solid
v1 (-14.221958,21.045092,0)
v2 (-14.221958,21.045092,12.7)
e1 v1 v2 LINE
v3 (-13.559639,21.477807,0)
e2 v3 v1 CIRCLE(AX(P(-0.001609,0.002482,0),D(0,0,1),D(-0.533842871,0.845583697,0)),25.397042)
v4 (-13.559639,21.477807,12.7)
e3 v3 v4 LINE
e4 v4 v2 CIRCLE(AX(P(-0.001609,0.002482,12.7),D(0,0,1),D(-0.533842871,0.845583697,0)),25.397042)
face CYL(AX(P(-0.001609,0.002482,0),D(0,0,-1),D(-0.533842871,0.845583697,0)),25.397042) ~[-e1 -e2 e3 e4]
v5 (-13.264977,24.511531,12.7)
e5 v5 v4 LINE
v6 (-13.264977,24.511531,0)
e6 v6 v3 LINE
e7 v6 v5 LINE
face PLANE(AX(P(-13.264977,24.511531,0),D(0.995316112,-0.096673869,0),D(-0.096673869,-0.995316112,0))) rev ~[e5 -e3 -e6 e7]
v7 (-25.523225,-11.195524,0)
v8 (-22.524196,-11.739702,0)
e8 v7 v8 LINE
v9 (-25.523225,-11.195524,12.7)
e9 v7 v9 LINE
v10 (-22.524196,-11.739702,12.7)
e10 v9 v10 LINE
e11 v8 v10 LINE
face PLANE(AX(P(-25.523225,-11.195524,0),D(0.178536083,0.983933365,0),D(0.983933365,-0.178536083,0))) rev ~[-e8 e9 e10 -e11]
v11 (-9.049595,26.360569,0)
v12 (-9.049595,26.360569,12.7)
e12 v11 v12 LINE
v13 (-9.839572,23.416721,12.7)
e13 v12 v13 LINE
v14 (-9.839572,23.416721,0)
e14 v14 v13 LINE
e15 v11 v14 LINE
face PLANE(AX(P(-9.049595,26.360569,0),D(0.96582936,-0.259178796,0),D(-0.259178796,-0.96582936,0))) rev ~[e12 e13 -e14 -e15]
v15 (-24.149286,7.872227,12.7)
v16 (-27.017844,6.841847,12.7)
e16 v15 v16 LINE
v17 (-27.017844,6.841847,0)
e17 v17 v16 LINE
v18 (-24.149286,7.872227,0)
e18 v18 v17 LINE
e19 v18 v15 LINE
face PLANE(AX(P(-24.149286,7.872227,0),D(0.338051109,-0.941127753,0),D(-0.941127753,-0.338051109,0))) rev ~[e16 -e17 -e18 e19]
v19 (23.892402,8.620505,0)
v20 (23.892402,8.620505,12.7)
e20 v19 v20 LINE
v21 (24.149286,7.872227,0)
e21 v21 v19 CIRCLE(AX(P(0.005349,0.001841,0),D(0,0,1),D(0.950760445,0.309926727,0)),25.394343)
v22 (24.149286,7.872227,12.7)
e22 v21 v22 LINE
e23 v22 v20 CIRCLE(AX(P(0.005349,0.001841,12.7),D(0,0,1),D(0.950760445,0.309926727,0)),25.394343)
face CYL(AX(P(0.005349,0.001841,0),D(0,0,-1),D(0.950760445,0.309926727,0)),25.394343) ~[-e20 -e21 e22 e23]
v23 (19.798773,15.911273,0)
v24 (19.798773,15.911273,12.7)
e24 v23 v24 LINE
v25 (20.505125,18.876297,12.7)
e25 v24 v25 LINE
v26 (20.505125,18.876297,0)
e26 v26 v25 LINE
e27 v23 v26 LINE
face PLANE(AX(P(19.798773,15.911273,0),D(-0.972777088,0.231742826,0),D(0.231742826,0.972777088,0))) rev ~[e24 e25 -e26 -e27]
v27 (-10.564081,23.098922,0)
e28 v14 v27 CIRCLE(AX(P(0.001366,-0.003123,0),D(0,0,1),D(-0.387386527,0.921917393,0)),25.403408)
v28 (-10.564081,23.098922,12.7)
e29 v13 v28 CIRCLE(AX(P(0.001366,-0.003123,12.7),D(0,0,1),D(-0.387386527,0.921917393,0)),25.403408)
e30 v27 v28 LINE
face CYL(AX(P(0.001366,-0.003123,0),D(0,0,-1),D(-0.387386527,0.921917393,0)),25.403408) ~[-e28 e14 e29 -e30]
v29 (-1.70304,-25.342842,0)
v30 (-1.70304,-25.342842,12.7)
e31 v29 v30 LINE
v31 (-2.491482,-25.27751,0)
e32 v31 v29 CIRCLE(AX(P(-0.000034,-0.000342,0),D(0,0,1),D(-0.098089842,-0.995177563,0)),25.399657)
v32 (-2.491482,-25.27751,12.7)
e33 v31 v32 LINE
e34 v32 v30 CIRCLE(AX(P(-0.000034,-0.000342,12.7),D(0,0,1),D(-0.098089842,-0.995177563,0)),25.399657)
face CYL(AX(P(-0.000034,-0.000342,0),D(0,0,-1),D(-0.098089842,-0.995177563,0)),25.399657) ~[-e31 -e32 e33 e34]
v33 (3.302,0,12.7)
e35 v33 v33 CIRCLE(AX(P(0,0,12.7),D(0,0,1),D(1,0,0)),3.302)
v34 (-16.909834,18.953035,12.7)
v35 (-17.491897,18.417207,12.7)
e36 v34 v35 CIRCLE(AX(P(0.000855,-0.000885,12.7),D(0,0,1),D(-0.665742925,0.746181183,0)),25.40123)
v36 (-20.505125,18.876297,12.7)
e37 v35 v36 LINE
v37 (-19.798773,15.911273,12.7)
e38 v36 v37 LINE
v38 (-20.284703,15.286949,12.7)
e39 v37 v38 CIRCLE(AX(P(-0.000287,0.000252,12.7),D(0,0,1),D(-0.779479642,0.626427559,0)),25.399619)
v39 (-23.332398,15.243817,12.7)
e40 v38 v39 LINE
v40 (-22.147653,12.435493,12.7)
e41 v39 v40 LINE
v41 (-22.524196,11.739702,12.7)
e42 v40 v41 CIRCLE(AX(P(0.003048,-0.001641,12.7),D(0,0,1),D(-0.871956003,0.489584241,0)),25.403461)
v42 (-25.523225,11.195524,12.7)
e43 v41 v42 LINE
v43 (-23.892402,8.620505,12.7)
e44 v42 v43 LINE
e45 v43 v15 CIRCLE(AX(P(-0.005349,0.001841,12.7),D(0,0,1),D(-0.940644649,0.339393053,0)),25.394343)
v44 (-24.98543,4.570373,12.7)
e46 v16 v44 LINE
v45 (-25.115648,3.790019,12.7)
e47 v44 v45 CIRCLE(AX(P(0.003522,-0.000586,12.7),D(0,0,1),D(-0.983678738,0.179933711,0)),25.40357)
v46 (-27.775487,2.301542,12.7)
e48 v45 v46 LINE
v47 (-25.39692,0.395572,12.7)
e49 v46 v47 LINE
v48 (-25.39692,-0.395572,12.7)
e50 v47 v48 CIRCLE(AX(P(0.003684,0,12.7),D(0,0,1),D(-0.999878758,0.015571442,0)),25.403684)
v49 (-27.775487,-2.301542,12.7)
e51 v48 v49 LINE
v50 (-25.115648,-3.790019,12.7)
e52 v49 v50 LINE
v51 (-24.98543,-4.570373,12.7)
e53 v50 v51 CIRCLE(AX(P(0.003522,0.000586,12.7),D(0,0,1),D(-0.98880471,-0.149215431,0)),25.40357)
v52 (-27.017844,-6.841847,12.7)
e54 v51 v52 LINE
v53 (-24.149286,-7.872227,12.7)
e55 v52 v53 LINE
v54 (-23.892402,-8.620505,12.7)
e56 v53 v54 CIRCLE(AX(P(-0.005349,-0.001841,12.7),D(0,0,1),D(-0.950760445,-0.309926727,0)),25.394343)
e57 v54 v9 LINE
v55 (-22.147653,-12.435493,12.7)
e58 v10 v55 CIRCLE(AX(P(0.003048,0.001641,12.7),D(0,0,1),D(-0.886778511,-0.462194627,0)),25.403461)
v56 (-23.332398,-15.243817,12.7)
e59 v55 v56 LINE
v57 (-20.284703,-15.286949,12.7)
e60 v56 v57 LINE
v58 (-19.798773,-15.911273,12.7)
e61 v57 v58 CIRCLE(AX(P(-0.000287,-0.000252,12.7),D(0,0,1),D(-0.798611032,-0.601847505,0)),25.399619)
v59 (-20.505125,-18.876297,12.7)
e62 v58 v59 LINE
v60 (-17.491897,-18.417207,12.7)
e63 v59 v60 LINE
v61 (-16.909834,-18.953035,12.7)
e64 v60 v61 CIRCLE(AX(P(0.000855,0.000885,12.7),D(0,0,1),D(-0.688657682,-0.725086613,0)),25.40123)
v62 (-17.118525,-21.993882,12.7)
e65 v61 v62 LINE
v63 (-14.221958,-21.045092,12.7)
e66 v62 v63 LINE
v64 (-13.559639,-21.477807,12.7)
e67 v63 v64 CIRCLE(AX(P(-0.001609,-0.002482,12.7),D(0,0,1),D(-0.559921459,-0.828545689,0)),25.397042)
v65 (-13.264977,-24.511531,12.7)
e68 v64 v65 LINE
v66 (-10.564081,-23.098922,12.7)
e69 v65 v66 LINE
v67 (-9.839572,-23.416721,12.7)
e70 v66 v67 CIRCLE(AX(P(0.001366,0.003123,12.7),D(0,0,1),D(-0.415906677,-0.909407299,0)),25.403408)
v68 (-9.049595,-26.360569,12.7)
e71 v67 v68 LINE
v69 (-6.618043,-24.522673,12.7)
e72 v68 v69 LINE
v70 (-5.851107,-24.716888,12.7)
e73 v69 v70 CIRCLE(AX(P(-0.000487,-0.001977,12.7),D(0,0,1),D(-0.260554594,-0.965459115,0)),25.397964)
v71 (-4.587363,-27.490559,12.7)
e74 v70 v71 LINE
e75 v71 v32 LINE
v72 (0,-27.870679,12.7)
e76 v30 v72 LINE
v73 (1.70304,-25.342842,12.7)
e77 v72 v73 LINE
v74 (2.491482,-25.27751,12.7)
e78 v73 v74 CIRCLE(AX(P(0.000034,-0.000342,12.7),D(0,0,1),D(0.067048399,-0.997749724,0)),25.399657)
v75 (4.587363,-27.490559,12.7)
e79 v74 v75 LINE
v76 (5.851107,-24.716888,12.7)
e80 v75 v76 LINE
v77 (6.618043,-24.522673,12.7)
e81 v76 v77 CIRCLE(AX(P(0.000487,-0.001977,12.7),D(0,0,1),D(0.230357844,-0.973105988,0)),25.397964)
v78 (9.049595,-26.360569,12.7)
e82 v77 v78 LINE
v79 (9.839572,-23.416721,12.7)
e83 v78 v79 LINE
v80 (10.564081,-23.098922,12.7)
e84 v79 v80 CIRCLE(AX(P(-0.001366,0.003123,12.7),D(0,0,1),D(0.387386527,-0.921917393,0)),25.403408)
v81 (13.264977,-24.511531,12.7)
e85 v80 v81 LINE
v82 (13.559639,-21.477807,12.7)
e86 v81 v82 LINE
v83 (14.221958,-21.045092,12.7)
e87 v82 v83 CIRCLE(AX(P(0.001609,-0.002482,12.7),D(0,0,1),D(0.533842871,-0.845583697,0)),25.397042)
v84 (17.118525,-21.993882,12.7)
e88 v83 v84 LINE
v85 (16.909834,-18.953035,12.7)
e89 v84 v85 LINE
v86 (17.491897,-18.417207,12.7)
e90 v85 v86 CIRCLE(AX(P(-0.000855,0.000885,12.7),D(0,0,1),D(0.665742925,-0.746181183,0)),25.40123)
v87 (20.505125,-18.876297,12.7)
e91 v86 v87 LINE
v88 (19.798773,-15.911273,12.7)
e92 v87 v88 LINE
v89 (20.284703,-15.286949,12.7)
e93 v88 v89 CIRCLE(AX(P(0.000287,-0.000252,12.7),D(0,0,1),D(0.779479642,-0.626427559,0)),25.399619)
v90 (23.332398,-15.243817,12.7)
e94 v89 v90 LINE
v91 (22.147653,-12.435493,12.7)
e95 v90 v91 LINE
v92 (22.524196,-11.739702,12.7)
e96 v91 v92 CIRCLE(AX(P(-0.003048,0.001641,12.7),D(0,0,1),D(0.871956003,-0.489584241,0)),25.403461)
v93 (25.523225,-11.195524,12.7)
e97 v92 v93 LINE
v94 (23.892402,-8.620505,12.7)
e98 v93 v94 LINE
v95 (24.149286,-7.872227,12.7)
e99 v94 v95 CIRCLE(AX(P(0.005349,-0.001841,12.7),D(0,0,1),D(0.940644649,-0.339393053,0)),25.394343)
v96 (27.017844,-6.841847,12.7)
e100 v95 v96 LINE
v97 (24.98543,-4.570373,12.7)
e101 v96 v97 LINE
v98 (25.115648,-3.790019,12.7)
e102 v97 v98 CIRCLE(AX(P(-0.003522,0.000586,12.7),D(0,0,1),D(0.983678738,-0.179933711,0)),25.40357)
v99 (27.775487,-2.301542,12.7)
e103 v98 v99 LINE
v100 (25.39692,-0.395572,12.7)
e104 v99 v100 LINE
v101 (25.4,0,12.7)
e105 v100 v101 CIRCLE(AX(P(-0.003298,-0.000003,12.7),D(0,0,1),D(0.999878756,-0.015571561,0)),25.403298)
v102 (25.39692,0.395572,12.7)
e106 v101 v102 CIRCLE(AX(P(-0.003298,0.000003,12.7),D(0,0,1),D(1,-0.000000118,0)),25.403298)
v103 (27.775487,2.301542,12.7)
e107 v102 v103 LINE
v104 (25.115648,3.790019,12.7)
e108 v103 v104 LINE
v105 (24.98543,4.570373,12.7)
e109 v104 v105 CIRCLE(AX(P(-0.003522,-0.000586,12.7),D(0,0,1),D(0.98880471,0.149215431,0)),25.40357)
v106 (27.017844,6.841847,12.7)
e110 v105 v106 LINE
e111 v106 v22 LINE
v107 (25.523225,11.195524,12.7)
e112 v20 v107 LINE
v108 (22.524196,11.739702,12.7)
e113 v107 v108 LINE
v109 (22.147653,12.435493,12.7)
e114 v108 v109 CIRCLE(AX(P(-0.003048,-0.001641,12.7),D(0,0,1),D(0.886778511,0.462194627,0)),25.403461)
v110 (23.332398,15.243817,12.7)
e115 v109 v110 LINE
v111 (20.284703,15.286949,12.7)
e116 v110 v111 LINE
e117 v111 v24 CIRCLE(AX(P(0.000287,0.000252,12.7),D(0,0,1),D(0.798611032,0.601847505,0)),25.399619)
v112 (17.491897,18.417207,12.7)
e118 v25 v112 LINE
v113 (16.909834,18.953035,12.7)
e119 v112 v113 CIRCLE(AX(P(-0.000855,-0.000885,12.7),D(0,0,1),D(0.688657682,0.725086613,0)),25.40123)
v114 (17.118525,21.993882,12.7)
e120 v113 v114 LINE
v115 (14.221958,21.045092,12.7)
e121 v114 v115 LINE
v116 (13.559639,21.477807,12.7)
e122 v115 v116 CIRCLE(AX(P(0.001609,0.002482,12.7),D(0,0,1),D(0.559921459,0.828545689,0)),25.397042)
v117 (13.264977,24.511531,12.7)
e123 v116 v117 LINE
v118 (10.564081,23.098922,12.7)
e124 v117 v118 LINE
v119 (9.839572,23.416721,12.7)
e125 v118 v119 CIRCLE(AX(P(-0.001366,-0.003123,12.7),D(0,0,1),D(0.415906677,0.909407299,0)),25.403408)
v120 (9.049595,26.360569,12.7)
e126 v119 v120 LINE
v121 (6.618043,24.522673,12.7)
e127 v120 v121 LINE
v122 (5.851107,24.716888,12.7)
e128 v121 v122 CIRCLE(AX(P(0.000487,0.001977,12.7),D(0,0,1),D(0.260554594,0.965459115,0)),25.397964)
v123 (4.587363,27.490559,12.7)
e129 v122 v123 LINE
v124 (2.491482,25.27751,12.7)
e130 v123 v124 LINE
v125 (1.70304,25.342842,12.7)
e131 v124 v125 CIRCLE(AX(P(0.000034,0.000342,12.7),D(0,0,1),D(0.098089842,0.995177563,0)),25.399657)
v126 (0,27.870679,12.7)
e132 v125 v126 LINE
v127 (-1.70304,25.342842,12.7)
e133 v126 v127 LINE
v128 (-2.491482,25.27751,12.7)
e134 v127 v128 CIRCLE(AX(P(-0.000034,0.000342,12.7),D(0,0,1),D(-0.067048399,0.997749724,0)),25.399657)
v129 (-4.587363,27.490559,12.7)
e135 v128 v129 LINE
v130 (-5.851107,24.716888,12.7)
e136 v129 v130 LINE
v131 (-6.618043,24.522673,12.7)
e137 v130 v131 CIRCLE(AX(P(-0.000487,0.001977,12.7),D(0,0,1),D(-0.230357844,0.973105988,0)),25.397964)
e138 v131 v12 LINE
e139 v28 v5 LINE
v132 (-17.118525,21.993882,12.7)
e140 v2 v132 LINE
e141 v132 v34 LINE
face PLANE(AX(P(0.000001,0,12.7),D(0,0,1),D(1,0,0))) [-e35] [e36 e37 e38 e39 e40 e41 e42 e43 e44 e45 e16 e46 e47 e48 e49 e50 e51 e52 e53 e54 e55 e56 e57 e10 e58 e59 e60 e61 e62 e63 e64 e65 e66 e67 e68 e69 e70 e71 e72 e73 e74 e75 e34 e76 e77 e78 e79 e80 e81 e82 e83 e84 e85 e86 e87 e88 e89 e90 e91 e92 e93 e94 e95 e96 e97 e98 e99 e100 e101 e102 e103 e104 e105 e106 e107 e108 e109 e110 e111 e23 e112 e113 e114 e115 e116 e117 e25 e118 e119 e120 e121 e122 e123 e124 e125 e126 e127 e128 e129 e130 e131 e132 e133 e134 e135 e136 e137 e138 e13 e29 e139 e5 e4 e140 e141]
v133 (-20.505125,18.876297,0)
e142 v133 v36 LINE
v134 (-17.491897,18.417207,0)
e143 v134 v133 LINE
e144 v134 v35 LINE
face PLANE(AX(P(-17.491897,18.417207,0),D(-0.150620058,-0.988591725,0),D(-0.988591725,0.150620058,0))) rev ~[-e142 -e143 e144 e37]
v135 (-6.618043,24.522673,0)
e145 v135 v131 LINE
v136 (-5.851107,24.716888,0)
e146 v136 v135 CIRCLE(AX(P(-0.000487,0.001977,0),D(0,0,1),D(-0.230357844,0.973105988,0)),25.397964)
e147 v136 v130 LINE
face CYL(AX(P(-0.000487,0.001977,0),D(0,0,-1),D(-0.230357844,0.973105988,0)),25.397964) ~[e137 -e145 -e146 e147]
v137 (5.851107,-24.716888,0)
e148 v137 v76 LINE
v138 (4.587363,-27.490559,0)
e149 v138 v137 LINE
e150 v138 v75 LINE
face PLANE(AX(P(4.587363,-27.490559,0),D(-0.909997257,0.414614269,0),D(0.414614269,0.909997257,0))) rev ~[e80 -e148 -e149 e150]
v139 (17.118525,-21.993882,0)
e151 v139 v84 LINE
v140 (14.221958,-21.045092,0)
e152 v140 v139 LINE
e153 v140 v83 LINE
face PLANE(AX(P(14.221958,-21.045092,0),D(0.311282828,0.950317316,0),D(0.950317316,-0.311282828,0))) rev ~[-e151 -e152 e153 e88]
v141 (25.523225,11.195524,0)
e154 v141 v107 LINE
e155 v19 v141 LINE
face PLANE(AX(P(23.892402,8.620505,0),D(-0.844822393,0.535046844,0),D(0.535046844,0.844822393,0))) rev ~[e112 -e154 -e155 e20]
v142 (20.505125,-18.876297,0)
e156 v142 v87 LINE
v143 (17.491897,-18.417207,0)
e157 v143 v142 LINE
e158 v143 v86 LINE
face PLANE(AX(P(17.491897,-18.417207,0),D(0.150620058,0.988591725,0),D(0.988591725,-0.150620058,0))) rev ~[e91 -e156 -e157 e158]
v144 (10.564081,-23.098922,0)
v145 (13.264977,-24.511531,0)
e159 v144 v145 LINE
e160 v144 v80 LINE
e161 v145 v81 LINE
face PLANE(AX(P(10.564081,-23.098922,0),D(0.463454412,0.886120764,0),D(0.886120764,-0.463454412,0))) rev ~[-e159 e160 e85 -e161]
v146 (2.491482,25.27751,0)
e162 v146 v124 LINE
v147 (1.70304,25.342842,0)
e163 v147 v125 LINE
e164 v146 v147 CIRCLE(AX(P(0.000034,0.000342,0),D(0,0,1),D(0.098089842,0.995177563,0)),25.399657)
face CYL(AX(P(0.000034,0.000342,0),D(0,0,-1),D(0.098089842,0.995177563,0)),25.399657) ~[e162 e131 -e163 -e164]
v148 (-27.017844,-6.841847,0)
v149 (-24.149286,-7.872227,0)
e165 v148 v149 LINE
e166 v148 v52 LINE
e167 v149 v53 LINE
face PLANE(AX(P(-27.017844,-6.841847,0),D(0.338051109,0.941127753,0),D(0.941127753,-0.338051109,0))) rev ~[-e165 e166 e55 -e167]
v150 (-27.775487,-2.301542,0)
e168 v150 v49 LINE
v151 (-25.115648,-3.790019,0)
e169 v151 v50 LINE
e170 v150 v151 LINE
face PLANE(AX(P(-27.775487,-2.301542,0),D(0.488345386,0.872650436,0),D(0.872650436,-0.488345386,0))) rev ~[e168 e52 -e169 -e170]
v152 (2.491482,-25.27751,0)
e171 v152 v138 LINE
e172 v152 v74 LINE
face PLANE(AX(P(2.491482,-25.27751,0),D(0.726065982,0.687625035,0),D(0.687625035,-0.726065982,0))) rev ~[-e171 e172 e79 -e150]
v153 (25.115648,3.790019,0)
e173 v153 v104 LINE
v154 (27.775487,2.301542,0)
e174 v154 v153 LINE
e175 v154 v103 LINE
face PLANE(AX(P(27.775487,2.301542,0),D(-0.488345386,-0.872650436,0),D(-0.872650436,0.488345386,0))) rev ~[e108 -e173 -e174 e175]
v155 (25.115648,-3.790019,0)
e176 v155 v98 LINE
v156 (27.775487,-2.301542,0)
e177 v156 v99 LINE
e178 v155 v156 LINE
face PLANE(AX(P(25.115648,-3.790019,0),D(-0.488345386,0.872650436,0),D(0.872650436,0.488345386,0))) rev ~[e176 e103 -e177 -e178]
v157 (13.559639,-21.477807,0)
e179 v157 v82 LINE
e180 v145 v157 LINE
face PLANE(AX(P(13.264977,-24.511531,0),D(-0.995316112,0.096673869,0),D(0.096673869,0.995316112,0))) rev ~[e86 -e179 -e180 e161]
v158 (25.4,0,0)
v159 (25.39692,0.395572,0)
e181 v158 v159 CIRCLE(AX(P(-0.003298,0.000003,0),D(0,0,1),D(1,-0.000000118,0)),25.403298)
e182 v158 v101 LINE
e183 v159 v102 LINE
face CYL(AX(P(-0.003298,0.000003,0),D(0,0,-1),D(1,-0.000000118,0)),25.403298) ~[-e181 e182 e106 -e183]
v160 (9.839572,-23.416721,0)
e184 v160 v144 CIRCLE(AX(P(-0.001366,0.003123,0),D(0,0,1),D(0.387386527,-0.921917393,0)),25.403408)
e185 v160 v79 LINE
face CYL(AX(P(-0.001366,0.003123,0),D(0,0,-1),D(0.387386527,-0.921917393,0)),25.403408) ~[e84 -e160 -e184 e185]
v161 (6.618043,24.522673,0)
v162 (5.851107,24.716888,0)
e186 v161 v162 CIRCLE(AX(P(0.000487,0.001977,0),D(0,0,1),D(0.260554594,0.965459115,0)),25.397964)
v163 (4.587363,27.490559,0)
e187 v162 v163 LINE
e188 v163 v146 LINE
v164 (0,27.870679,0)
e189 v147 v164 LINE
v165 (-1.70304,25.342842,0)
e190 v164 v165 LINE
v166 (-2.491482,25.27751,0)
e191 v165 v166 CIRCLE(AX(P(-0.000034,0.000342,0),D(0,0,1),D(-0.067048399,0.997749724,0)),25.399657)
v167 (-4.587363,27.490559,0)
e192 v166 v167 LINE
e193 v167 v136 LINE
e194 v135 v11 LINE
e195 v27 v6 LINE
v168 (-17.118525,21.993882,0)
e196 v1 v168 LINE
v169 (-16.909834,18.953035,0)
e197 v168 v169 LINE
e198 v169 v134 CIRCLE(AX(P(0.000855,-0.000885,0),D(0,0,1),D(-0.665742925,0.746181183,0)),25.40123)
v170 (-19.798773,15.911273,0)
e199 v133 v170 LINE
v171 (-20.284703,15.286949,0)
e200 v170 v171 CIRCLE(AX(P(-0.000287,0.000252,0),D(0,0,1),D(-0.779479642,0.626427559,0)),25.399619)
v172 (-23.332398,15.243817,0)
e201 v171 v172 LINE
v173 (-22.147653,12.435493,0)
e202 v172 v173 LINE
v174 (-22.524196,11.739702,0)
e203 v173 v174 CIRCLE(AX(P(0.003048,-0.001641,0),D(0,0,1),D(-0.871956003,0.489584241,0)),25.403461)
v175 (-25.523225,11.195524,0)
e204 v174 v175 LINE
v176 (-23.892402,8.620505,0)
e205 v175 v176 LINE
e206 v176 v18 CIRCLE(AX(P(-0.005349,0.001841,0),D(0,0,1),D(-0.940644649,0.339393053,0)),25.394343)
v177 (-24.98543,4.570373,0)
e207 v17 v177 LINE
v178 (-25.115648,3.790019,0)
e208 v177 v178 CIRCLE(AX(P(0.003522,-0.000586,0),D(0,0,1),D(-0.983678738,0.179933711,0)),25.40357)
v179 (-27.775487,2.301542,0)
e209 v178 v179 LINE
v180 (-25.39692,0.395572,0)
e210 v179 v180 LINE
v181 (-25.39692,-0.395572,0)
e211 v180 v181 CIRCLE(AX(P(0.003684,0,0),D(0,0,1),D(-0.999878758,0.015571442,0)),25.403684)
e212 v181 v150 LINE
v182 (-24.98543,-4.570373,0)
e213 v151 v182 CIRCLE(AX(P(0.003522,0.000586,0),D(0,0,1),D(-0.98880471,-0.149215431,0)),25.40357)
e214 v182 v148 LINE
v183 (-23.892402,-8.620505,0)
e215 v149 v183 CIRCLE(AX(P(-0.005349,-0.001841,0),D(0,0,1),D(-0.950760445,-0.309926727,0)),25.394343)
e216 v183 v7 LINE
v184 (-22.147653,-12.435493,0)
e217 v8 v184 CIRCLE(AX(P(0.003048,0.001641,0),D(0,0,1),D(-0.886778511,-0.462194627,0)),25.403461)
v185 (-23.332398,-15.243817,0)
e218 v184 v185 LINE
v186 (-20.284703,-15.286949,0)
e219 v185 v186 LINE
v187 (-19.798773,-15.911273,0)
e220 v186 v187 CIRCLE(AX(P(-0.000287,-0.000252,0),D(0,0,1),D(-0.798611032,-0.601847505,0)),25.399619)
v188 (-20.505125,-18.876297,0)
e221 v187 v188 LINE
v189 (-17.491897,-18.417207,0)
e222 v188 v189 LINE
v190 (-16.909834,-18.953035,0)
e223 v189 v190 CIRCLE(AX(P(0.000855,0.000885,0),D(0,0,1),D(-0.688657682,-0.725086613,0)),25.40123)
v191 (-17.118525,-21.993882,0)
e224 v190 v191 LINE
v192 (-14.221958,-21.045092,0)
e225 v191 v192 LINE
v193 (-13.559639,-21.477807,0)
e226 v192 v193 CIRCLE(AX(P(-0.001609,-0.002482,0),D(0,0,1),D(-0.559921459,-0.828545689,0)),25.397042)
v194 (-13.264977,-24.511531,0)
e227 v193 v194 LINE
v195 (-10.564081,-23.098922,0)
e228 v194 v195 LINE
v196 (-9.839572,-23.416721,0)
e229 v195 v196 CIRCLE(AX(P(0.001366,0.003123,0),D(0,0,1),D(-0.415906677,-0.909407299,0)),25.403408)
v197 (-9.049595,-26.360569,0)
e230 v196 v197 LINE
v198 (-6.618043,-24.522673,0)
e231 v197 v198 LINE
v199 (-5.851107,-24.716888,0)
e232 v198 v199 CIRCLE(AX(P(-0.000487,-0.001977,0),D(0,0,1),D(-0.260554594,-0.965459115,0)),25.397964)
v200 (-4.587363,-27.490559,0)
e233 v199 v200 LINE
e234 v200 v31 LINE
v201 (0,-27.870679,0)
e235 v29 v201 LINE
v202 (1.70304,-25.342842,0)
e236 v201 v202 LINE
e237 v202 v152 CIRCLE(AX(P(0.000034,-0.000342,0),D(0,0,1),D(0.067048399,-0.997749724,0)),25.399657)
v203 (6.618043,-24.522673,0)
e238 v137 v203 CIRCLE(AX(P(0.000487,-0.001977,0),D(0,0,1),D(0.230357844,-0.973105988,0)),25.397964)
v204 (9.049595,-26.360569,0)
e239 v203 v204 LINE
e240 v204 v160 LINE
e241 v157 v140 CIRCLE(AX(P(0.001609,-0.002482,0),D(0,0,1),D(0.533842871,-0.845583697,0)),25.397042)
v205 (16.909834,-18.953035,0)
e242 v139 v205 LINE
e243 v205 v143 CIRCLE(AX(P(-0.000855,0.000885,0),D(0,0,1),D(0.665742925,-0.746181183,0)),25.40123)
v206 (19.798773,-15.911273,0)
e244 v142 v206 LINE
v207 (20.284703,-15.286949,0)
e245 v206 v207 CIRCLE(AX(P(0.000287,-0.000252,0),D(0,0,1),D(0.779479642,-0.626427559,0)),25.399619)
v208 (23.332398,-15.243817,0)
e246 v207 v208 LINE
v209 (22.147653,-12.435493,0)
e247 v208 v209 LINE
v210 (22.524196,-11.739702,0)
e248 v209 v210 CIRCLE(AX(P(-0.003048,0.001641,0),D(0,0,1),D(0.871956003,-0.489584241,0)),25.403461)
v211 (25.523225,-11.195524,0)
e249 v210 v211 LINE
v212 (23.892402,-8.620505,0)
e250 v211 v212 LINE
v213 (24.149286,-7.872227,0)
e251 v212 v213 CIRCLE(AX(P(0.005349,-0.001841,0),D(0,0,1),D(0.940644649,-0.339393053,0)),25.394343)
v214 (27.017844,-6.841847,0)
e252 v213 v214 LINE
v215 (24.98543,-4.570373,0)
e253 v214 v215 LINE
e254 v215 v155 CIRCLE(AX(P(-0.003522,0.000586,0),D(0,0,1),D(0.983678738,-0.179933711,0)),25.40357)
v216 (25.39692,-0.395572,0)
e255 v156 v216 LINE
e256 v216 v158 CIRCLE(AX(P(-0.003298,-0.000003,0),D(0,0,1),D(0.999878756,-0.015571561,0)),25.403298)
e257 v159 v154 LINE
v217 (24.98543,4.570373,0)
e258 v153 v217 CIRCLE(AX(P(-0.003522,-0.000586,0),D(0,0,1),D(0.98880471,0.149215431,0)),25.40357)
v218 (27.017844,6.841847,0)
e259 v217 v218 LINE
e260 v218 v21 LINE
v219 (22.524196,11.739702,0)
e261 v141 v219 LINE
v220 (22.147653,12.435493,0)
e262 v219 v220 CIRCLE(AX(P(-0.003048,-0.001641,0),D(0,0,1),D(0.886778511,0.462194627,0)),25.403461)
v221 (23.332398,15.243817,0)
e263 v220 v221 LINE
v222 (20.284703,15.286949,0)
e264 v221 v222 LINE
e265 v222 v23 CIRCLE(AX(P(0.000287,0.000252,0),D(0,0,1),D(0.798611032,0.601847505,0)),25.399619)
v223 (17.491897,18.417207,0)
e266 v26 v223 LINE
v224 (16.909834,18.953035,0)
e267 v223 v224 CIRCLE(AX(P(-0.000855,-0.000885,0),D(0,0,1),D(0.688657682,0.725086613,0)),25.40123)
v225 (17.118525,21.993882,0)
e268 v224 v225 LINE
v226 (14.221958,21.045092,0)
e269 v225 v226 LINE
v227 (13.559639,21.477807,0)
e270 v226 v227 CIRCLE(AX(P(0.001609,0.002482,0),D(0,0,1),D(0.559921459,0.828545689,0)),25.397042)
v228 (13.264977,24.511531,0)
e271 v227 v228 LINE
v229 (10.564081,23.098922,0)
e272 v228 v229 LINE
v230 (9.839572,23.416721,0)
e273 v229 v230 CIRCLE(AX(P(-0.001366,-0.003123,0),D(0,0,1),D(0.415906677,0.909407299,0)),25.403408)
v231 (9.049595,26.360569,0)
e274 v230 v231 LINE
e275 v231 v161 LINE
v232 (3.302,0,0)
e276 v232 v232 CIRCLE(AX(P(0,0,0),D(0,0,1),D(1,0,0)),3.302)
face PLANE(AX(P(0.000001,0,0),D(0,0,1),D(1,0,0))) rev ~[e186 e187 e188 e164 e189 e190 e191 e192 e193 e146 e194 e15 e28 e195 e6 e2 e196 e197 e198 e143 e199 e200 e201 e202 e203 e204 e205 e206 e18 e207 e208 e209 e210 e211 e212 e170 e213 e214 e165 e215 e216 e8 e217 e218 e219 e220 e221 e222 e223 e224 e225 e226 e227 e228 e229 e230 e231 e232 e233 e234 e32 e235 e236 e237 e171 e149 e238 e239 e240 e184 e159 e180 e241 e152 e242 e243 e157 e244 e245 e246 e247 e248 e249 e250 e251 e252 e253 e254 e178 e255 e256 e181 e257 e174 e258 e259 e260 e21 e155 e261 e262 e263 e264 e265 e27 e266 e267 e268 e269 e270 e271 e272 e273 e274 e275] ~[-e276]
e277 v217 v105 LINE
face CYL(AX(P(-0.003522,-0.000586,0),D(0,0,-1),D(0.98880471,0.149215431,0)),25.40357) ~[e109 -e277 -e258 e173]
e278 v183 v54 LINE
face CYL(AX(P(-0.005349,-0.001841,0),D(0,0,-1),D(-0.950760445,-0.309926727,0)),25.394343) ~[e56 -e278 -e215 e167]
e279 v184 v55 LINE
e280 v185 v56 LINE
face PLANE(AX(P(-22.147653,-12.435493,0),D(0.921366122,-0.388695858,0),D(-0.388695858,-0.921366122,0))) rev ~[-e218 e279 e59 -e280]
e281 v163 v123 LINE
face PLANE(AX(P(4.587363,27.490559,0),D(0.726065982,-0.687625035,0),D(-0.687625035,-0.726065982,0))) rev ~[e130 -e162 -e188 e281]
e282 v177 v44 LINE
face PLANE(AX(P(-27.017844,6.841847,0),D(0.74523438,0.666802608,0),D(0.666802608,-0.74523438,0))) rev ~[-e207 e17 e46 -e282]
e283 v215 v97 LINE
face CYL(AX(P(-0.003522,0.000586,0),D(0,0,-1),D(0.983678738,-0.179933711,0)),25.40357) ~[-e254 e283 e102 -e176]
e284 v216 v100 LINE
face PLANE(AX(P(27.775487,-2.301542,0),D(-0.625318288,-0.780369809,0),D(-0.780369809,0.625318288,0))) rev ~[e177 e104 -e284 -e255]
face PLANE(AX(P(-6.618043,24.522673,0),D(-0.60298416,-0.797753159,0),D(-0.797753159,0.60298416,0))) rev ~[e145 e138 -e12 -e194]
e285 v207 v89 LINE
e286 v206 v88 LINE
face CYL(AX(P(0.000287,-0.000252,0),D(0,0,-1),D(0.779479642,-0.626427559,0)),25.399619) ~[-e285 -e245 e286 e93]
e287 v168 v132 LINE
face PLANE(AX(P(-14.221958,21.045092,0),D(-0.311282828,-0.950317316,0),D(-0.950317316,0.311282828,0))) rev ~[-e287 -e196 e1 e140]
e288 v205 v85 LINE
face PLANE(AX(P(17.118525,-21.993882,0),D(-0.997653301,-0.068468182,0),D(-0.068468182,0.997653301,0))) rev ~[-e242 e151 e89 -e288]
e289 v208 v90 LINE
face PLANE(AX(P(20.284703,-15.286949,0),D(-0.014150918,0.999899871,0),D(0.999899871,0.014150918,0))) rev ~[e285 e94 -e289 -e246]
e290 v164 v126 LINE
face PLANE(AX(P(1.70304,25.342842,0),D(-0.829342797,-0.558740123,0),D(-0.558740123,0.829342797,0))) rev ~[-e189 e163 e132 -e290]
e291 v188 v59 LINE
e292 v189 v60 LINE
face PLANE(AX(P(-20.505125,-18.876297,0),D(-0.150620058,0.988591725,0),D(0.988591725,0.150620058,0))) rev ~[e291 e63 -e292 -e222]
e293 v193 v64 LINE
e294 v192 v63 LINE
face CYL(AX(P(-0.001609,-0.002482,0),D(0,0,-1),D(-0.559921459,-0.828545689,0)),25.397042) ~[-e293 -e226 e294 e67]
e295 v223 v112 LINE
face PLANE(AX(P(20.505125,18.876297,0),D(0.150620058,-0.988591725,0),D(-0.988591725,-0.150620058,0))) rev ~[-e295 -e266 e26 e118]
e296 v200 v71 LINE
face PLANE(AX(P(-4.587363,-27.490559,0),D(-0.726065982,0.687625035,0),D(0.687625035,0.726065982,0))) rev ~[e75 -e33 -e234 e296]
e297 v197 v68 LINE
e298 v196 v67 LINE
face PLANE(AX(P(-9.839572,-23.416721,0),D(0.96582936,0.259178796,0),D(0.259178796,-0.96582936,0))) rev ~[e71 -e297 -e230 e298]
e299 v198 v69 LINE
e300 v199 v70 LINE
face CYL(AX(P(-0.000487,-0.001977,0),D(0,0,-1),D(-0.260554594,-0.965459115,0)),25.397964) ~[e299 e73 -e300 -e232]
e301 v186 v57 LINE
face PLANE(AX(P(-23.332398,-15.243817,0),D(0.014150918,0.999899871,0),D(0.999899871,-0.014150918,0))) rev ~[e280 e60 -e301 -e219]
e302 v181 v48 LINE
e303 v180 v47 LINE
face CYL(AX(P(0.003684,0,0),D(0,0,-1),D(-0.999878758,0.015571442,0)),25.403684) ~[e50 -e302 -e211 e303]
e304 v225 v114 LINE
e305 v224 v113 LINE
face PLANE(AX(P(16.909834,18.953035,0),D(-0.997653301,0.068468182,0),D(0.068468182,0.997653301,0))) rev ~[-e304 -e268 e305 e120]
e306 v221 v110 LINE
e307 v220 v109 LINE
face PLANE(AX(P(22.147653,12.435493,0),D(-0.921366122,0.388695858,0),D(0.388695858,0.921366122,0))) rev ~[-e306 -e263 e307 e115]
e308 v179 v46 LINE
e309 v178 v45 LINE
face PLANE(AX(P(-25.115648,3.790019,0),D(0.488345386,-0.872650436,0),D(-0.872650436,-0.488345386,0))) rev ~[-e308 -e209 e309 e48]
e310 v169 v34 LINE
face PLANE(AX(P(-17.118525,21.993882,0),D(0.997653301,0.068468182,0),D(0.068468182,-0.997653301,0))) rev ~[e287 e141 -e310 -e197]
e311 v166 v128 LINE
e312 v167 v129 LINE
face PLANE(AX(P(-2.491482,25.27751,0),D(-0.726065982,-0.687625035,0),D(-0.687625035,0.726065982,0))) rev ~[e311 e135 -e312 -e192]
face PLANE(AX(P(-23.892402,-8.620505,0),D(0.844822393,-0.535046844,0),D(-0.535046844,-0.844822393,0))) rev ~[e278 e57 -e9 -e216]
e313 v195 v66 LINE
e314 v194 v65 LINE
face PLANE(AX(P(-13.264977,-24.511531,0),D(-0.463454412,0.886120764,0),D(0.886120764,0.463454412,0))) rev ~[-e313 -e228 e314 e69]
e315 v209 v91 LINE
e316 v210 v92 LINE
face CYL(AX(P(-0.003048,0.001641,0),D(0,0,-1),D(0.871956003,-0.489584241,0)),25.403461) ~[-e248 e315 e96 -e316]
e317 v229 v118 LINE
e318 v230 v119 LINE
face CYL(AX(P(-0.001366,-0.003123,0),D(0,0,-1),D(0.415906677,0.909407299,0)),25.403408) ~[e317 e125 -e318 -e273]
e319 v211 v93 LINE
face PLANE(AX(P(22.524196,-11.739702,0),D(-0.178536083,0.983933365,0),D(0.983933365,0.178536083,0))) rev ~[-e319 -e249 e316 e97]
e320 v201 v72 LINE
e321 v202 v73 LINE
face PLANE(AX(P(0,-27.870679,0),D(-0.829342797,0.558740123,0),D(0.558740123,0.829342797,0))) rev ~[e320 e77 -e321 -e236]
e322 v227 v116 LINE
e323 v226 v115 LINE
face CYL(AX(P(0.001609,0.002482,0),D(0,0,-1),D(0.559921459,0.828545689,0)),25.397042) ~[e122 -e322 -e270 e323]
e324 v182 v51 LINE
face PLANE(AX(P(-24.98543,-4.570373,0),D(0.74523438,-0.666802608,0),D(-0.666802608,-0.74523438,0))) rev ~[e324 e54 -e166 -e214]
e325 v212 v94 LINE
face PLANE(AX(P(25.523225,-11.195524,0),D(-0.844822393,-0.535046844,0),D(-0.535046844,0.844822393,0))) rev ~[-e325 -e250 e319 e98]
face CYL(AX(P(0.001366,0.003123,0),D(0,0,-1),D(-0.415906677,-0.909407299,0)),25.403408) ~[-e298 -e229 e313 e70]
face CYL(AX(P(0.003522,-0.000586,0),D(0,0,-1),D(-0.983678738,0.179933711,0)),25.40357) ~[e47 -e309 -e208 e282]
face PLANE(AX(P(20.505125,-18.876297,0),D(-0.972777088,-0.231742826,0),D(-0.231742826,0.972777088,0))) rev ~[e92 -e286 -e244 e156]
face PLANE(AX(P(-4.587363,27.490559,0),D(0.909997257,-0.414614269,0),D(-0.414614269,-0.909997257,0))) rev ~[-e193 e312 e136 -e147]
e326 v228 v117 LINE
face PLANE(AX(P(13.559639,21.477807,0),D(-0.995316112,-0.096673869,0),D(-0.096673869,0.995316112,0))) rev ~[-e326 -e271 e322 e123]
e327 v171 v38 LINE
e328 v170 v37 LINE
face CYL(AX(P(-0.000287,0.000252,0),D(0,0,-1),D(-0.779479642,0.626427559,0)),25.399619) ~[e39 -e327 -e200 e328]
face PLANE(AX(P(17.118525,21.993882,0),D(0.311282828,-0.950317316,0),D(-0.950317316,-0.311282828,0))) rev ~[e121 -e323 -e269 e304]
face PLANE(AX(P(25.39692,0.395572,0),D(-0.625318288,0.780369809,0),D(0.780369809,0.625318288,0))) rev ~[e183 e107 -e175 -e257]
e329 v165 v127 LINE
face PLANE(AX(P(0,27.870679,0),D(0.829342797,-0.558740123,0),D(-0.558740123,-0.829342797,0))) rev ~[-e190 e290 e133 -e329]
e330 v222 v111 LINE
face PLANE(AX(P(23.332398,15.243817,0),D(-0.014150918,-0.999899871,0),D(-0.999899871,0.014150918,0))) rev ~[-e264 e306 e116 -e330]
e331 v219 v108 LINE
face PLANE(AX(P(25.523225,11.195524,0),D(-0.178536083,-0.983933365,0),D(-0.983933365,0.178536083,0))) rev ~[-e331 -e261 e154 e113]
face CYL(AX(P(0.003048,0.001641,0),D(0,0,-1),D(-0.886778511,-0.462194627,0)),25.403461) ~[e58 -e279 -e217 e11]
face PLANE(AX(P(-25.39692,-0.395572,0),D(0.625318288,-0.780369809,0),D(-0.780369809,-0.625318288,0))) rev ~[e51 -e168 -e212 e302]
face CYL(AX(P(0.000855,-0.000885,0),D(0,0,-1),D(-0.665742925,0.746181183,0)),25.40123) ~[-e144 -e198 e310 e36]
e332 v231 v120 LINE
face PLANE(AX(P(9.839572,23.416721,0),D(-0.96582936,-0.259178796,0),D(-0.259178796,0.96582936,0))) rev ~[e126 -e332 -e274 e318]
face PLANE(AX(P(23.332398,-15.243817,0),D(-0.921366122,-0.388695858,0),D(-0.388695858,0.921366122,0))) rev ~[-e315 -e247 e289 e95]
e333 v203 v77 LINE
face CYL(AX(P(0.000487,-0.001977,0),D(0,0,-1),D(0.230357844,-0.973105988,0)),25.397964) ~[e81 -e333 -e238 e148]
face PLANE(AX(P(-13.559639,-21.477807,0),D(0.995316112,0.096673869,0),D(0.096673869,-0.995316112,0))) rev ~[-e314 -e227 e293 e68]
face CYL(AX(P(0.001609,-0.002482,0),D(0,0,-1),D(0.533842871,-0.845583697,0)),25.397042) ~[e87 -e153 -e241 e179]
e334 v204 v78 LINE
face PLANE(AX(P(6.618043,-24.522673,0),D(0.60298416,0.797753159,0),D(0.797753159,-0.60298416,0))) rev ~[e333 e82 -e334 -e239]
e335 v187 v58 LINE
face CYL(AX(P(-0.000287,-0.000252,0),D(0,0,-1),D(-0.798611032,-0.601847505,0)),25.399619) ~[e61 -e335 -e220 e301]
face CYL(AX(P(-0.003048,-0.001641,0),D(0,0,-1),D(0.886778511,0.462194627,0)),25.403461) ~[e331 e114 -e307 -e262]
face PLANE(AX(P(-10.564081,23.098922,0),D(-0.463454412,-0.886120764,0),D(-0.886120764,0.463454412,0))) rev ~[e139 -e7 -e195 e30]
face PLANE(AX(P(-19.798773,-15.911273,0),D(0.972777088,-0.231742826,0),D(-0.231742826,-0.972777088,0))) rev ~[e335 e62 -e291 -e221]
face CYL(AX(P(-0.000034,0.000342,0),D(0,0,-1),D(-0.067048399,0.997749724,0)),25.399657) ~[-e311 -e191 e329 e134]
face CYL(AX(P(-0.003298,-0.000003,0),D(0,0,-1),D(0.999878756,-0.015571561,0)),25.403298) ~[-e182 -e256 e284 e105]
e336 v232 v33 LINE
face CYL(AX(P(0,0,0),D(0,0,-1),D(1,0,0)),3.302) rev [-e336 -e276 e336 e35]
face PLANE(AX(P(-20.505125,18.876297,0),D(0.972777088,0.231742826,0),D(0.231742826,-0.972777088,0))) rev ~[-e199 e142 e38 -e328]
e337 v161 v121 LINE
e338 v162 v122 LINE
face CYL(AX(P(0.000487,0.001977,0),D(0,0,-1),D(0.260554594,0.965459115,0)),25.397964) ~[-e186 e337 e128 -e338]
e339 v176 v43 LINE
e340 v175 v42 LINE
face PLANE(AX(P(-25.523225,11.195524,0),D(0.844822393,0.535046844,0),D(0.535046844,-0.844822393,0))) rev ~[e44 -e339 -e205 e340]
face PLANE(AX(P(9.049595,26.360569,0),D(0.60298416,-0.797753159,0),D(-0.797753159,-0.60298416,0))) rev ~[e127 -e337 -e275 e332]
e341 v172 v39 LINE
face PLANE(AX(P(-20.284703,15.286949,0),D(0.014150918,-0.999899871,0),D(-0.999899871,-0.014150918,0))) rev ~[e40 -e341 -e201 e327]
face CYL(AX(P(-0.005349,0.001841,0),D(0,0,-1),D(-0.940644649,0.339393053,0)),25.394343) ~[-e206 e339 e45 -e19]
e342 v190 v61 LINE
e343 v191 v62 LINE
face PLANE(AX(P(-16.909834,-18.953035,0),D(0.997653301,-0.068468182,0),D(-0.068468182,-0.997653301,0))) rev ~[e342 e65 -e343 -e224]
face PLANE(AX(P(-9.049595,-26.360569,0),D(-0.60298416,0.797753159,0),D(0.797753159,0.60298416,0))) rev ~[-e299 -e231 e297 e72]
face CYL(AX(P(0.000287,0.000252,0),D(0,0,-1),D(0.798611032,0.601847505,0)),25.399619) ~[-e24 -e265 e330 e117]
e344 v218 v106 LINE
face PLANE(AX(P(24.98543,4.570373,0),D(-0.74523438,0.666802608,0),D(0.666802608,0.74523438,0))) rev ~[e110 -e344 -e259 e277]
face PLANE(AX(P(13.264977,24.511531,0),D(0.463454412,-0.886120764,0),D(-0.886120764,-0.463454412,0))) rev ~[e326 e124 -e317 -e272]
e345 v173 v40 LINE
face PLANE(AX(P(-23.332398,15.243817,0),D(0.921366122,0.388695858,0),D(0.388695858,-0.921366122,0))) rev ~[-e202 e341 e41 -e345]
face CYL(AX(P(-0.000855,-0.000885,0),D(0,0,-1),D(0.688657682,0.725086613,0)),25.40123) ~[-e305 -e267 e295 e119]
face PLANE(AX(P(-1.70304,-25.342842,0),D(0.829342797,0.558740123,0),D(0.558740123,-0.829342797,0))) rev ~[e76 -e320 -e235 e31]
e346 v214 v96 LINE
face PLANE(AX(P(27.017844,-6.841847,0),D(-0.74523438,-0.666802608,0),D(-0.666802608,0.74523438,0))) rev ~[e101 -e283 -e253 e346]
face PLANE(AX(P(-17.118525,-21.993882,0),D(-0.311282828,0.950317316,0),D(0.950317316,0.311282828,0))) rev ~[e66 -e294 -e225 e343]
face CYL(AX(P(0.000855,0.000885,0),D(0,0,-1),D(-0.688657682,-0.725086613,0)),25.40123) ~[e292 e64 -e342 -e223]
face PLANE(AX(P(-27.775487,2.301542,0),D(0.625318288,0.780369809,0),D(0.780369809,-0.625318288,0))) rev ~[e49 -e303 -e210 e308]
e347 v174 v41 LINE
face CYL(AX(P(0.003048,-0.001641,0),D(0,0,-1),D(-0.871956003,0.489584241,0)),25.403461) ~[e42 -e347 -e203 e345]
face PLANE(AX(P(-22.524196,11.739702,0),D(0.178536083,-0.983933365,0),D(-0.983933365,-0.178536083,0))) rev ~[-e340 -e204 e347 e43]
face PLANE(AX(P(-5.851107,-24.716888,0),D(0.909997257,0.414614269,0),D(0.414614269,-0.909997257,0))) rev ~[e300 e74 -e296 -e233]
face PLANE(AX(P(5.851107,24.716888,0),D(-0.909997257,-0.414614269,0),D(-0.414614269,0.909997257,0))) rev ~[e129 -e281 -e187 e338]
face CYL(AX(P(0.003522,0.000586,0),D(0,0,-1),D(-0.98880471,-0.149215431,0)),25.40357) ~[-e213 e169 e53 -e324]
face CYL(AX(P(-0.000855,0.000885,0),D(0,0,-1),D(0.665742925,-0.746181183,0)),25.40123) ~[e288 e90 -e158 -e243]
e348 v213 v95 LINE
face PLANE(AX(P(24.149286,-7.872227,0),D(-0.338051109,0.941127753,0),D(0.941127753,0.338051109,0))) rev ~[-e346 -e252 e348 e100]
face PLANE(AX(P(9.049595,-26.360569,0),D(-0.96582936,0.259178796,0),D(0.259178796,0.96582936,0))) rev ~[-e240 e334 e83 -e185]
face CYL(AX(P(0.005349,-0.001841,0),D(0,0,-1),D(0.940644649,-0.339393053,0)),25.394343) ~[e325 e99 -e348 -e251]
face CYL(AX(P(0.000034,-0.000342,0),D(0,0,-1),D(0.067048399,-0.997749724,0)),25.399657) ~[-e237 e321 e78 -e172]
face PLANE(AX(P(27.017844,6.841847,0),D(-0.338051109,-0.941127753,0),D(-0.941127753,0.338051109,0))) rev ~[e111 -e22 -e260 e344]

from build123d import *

# Parameters (mm, degrees)
F0_R     = 3.302
F1_DEPTH = 12.7


with BuildPart() as f1:
    # F0 (on Top) → F1 (new body)
    with BuildSketch(Plane.XY):
        with BuildLine():
            ThreePointArc((25.39692, -0.395572), (25.39923, -0.197792), (25.4, 0))
            ThreePointArc((25.4, 0), (25.39923, 0.197792), (25.39692, 0.395572))
            ThreePointArc((25.39692, 0.395572), (25.313246, 2.097515), (25.115648, 3.790019))
            ThreePointArc((25.115648, 3.790019), (25.053577, 4.180703), (24.98543, 4.570373))
            ThreePointArc((24.98543, 4.570373), (24.622767, 6.235331), (24.149286, 7.872227))
            ThreePointArc((24.149286, 7.872227), (24.023758, 8.247367), (23.892402, 8.620505))
            ThreePointArc((23.892402, 8.620505), (23.260642, 10.203064), (22.524196, 11.739702))
            ThreePointArc((22.524196, 11.739702), (22.338633, 12.089064), (22.147653, 12.435493))
            ThreePointArc((22.147653, 12.435493), (21.264029, 13.892483), (20.284703, 15.286949))
            ThreePointArc((20.284703, 15.286949), (20.044169, 15.601003), (19.798773, 15.911273))
            ThreePointArc((19.798773, 15.911273), (18.687387, 17.202952), (17.491897, 18.417207))
            ThreePointArc((17.491897, 18.417207), (17.202952, 18.687387), (16.909834, 18.953035))
            ThreePointArc((16.909834, 18.953035), (15.601003, 20.044169), (14.221958, 21.045092))
            ThreePointArc((14.221958, 21.045092), (13.892483, 21.264029), (13.559639, 21.477807))
            ThreePointArc((13.559639, 21.477807), (12.089064, 22.338633), (10.564081, 23.098922))
            ThreePointArc((10.564081, 23.098922), (10.203064, 23.260642), (9.839572, 23.416721))
            ThreePointArc((9.839572, 23.416721), (8.247367, 24.023758), (6.618043, 24.522673))
            ThreePointArc((6.618043, 24.522673), (6.235331, 24.622767), (5.851107, 24.716888))
            ThreePointArc((5.851107, 24.716888), (4.180703, 25.053577), (2.491482, 25.27751))
            ThreePointArc((2.491482, 25.27751), (2.097515, 25.313246), (1.70304, 25.342842))
            ThreePointArc((1.70304, 25.342842), (0, 25.4), (-1.70304, 25.342842))
            ThreePointArc((-1.70304, 25.342842), (-2.097515, 25.313246), (-2.491482, 25.27751))
            ThreePointArc((-2.491482, 25.27751), (-4.180703, 25.053577), (-5.851107, 24.716888))
            ThreePointArc((-5.851107, 24.716888), (-6.235331, 24.622767), (-6.618043, 24.522673))
            ThreePointArc((-6.618043, 24.522673), (-8.247367, 24.023758), (-9.839572, 23.416721))
            ThreePointArc((-9.839572, 23.416721), (-10.203064, 23.260642), (-10.564081, 23.098922))
            ThreePointArc((-10.564081, 23.098922), (-12.089064, 22.338633), (-13.559639, 21.477807))
            ThreePointArc((-13.559639, 21.477807), (-13.892483, 21.264029), (-14.221958, 21.045092))
            ThreePointArc((-14.221958, 21.045092), (-15.601003, 20.044169), (-16.909834, 18.953035))
            ThreePointArc((-16.909834, 18.953035), (-17.202952, 18.687387), (-17.491897, 18.417207))
            ThreePointArc((-17.491897, 18.417207), (-18.687387, 17.202952), (-19.798773, 15.911273))
            ThreePointArc((-19.798773, 15.911273), (-20.044169, 15.601003), (-20.284703, 15.286949))
            ThreePointArc((-20.284703, 15.286949), (-21.264029, 13.892483), (-22.147653, 12.435493))
            ThreePointArc((-22.147653, 12.435493), (-22.338633, 12.089064), (-22.524196, 11.739702))
            ThreePointArc((-22.524196, 11.739702), (-23.260642, 10.203064), (-23.892402, 8.620505))
            ThreePointArc((-23.892402, 8.620505), (-24.023758, 8.247367), (-24.149286, 7.872227))
            ThreePointArc((-24.149286, 7.872227), (-24.622767, 6.235331), (-24.98543, 4.570373))
            ThreePointArc((-24.98543, 4.570373), (-25.053577, 4.180703), (-25.115648, 3.790019))
            ThreePointArc((-25.115648, 3.790019), (-25.313246, 2.097515), (-25.39692, 0.395572))
            ThreePointArc((-25.39692, 0.395572), (-25.4, 0), (-25.39692, -0.395572))
            ThreePointArc((-25.39692, -0.395572), (-25.313246, -2.097515), (-25.115648, -3.790019))
            ThreePointArc((-25.115648, -3.790019), (-25.053577, -4.180703), (-24.98543, -4.570373))
            ThreePointArc((-24.98543, -4.570373), (-24.622767, -6.235331), (-24.149286, -7.872227))
            ThreePointArc((-24.149286, -7.872227), (-24.023758, -8.247367), (-23.892402, -8.620505))
            ThreePointArc((-23.892402, -8.620505), (-23.260642, -10.203064), (-22.524196, -11.739702))
            ThreePointArc((-22.524196, -11.739702), (-22.338633, -12.089064), (-22.147653, -12.435493))
            ThreePointArc((-22.147653, -12.435493), (-21.264029, -13.892483), (-20.284703, -15.286949))
            ThreePointArc((-20.284703, -15.286949), (-20.044169, -15.601003), (-19.798773, -15.911273))
            ThreePointArc((-19.798773, -15.911273), (-18.687387, -17.202952), (-17.491897, -18.417207))
            ThreePointArc((-17.491897, -18.417207), (-17.202952, -18.687387), (-16.909834, -18.953035))
            ThreePointArc((-16.909834, -18.953035), (-15.601003, -20.044169), (-14.221958, -21.045092))
            ThreePointArc((-14.221958, -21.045092), (-13.892483, -21.264029), (-13.559639, -21.477807))
            ThreePointArc((-13.559639, -21.477807), (-12.089064, -22.338633), (-10.564081, -23.098922))
            ThreePointArc((-10.564081, -23.098922), (-10.203064, -23.260642), (-9.839572, -23.416721))
            ThreePointArc((-9.839572, -23.416721), (-8.247367, -24.023758), (-6.618043, -24.522673))
            ThreePointArc((-6.618043, -24.522673), (-6.235331, -24.622767), (-5.851107, -24.716888))
            ThreePointArc((-5.851107, -24.716888), (-4.180703, -25.053577), (-2.491482, -25.27751))
            ThreePointArc((-2.491482, -25.27751), (-2.097515, -25.313246), (-1.70304, -25.342842))
            ThreePointArc((-1.70304, -25.342842), (0, -25.4), (1.70304, -25.342842))
            ThreePointArc((1.70304, -25.342842), (2.097515, -25.313246), (2.491482, -25.27751))
            ThreePointArc((2.491482, -25.27751), (4.180703, -25.053577), (5.851107, -24.716888))
            ThreePointArc((5.851107, -24.716888), (6.235331, -24.622767), (6.618043, -24.522673))
            ThreePointArc((6.618043, -24.522673), (8.247367, -24.023758), (9.839572, -23.416721))
            ThreePointArc((9.839572, -23.416721), (10.203064, -23.260642), (10.564081, -23.098922))
            ThreePointArc((10.564081, -23.098922), (12.089064, -22.338633), (13.559639, -21.477807))
            ThreePointArc((13.559639, -21.477807), (13.892483, -21.264029), (14.221958, -21.045092))
            ThreePointArc((14.221958, -21.045092), (15.601003, -20.044169), (16.909834, -18.953035))
            ThreePointArc((16.909834, -18.953035), (17.202952, -18.687387), (17.491897, -18.417207))
            ThreePointArc((17.491897, -18.417207), (18.687387, -17.202952), (19.798773, -15.911273))
            ThreePointArc((19.798773, -15.911273), (20.044169, -15.601003), (20.284703, -15.286949))
            ThreePointArc((20.284703, -15.286949), (21.264029, -13.892483), (22.147653, -12.435493))
            ThreePointArc((22.147653, -12.435493), (22.338633, -12.089064), (22.524196, -11.739702))
            ThreePointArc((22.524196, -11.739702), (23.260642, -10.203064), (23.892402, -8.620505))
            ThreePointArc((23.892402, -8.620505), (24.023758, -8.247367), (24.149286, -7.872227))
            ThreePointArc((24.149286, -7.872227), (24.622767, -6.235331), (24.98543, -4.570373))
            ThreePointArc((24.98543, -4.570373), (25.053577, -4.180703), (25.115648, -3.790019))
            ThreePointArc((25.115648, -3.790019), (25.313246, -2.097515), (25.39692, -0.395572))
        make_face()
        Circle(F0_R, mode=Mode.SUBTRACT)
        with BuildLine():
            Line((-27.775487, -2.301542), (-25.115648, -3.790019))
            ThreePointArc((-25.115648, -3.790019), (-25.313246, -2.097515), (-25.39692, -0.395572))
            Line((-25.39692, -0.395572), (-27.775487, -2.301542))
        make_face()
        with BuildLine():
            Line((25.523225, -11.195524), (23.892402, -8.620505))
            ThreePointArc((23.892402, -8.620505), (23.260642, -10.203064), (22.524196, -11.739702))
            Line((22.524196, -11.739702), (25.523225, -11.195524))
        make_face()
        with BuildLine():
            Line((-9.049595, -26.360569), (-6.618043, -24.522673))
            ThreePointArc((-6.618043, -24.522673), (-8.247367, -24.023758), (-9.839572, -23.416721))
            Line((-9.839572, -23.416721), (-9.049595, -26.360569))
        make_face()
        with BuildLine():
            Line((-27.017844, -6.841847), (-24.149286, -7.872227))
            ThreePointArc((-24.149286, -7.872227), (-24.622767, -6.235331), (-24.98543, -4.570373))
            Line((-24.98543, -4.570373), (-27.017844, -6.841847))
        make_face()
        with BuildLine():
            Line((4.587363, -27.490559), (5.851107, -24.716888))
            ThreePointArc((5.851107, -24.716888), (4.180703, -25.053577), (2.491482, -25.27751))
            Line((2.491482, -25.27751), (4.587363, -27.490559))
        make_face()
        with BuildLine():
            Line((27.017844, -6.841847), (24.98543, -4.570373))
            ThreePointArc((24.98543, -4.570373), (24.622767, -6.235331), (24.149286, -7.872227))
            Line((24.149286, -7.872227), (27.017844, -6.841847))
        make_face()
        with BuildLine():
            Line((-4.587363, -27.490559), (-2.491482, -25.27751))
            ThreePointArc((-2.491482, -25.27751), (-4.180703, -25.053577), (-5.851107, -24.716888))
            Line((-5.851107, -24.716888), (-4.587363, -27.490559))
        make_face()
        with BuildLine():
            Line((-25.523225, -11.195524), (-22.524196, -11.739702))
            ThreePointArc((-22.524196, -11.739702), (-23.260642, -10.203064), (-23.892402, -8.620505))
            Line((-23.892402, -8.620505), (-25.523225, -11.195524))
        make_face()
        with BuildLine():
            Line((27.775487, -2.301542), (25.39692, -0.395572))
            ThreePointArc((25.39692, -0.395572), (25.313246, -2.097515), (25.115648, -3.790019))
            Line((25.115648, -3.790019), (27.775487, -2.301542))
        make_face()
        with BuildLine():
            Line((9.049595, -26.360569), (9.839572, -23.416721))
            ThreePointArc((9.839572, -23.416721), (8.247367, -24.023758), (6.618043, -24.522673))
            Line((6.618043, -24.522673), (9.049595, -26.360569))
        make_face()
        with BuildLine():
            Line((0, -27.870679), (1.70304, -25.342842))
            ThreePointArc((1.70304, -25.342842), (0, -25.4), (-1.70304, -25.342842))
            Line((-1.70304, -25.342842), (0, -27.870679))
        make_face()
        with BuildLine():
            Line((-23.332398, -15.243817), (-20.284703, -15.286949))
            ThreePointArc((-20.284703, -15.286949), (-21.264029, -13.892483), (-22.147653, -12.435493))
            Line((-22.147653, -12.435493), (-23.332398, -15.243817))
        make_face()
        with BuildLine():
            ThreePointArc((-22.147653, 12.435493), (-21.264029, 13.892483), (-20.284703, 15.286949))
            Line((-20.284703, 15.286949), (-23.332398, 15.243817))
            Line((-23.332398, 15.243817), (-22.147653, 12.435493))
        make_face()
        with BuildLine():
            ThreePointArc((-16.909834, 18.953035), (-15.601003, 20.044169), (-14.221958, 21.045092))
            Line((-14.221958, 21.045092), (-17.118525, 21.993882))
            Line((-17.118525, 21.993882), (-16.909834, 18.953035))
        make_face()
        with BuildLine():
            ThreePointArc((-19.798773, 15.911273), (-18.687387, 17.202952), (-17.491897, 18.417207))
            Line((-17.491897, 18.417207), (-20.505125, 18.876297))
            Line((-20.505125, 18.876297), (-19.798773, 15.911273))
        make_face()
        with BuildLine():
            ThreePointArc((-23.892402, 8.620505), (-23.260642, 10.203064), (-22.524196, 11.739702))
            Line((-22.524196, 11.739702), (-25.523225, 11.195524))
            Line((-25.523225, 11.195524), (-23.892402, 8.620505))
        make_face()
        with BuildLine():
            Line((17.118525, -21.993882), (16.909834, -18.953035))
            ThreePointArc((16.909834, -18.953035), (15.601003, -20.044169), (14.221958, -21.045092))
            Line((14.221958, -21.045092), (17.118525, -21.993882))
        make_face()
        with BuildLine():
            ThreePointArc((25.115648, 3.790019), (25.313246, 2.097515), (25.39692, 0.395572))
            Line((25.39692, 0.395572), (27.775487, 2.301542))
            Line((27.775487, 2.301542), (25.115648, 3.790019))
        make_face()
        with BuildLine():
            ThreePointArc((24.149286, 7.872227), (24.622767, 6.235331), (24.98543, 4.570373))
            Line((24.98543, 4.570373), (27.017844, 6.841847))
            Line((27.017844, 6.841847), (24.149286, 7.872227))
        make_face()
        with BuildLine():
            ThreePointArc((22.524196, 11.739702), (23.260642, 10.203064), (23.892402, 8.620505))
            Line((23.892402, 8.620505), (25.523225, 11.195524))
            Line((25.523225, 11.195524), (22.524196, 11.739702))
        make_face()
        with BuildLine():
            ThreePointArc((20.284703, 15.286949), (21.264029, 13.892483), (22.147653, 12.435493))
            Line((22.147653, 12.435493), (23.332398, 15.243817))
            Line((23.332398, 15.243817), (20.284703, 15.286949))
        make_face()
        with BuildLine():
            ThreePointArc((17.491897, 18.417207), (18.687387, 17.202952), (19.798773, 15.911273))
            Line((19.798773, 15.911273), (20.505125, 18.876297))
            Line((20.505125, 18.876297), (17.491897, 18.417207))
        make_face()
        with BuildLine():
            ThreePointArc((14.221958, 21.045092), (15.601003, 20.044169), (16.909834, 18.953035))
            Line((16.909834, 18.953035), (17.118525, 21.993882))
            Line((17.118525, 21.993882), (14.221958, 21.045092))
        make_face()
        with BuildLine():
            ThreePointArc((10.564081, 23.098922), (12.089064, 22.338633), (13.559639, 21.477807))
            Line((13.559639, 21.477807), (13.264977, 24.511531))
            Line((13.264977, 24.511531), (10.564081, 23.098922))
        make_face()
        with BuildLine():
            ThreePointArc((6.618043, 24.522673), (8.247367, 24.023758), (9.839572, 23.416721))
            Line((9.839572, 23.416721), (9.049595, 26.360569))
            Line((9.049595, 26.360569), (6.618043, 24.522673))
        make_face()
        with BuildLine():
            ThreePointArc((2.491482, 25.27751), (4.180703, 25.053577), (5.851107, 24.716888))
            Line((5.851107, 24.716888), (4.587363, 27.490559))
            Line((4.587363, 27.490559), (2.491482, 25.27751))
        make_face()
        with BuildLine():
            ThreePointArc((-1.70304, 25.342842), (0, 25.4), (1.70304, 25.342842))
            Line((1.70304, 25.342842), (0, 27.870679))
            Line((0, 27.870679), (-1.70304, 25.342842))
        make_face()
        with BuildLine():
            ThreePointArc((-5.851107, 24.716888), (-4.180703, 25.053577), (-2.491482, 25.27751))
            Line((-2.491482, 25.27751), (-4.587363, 27.490559))
            Line((-4.587363, 27.490559), (-5.851107, 24.716888))
        make_face()
        with BuildLine():
            ThreePointArc((-9.839572, 23.416721), (-8.247367, 24.023758), (-6.618043, 24.522673))
            Line((-6.618043, 24.522673), (-9.049595, 26.360569))
            Line((-9.049595, 26.360569), (-9.839572, 23.416721))
        make_face()
        with BuildLine():
            ThreePointArc((-13.559639, 21.477807), (-12.089064, 22.338633), (-10.564081, 23.098922))
            Line((-10.564081, 23.098922), (-13.264977, 24.511531))
            Line((-13.264977, 24.511531), (-13.559639, 21.477807))
        make_face()
        with BuildLine():
            Line((-20.505125, -18.876297), (-17.491897, -18.417207))
            ThreePointArc((-17.491897, -18.417207), (-18.687387, -17.202952), (-19.798773, -15.911273))
            Line((-19.798773, -15.911273), (-20.505125, -18.876297))
        make_face()
        with BuildLine():
            ThreePointArc((-24.98543, 4.570373), (-24.622767, 6.235331), (-24.149286, 7.872227))
            Line((-24.149286, 7.872227), (-27.017844, 6.841847))
            Line((-27.017844, 6.841847), (-24.98543, 4.570373))
        make_face()
        with BuildLine():
            Line((20.505125, -18.876297), (19.798773, -15.911273))
            ThreePointArc((19.798773, -15.911273), (18.687387, -17.202952), (17.491897, -18.417207))
            Line((17.491897, -18.417207), (20.505125, -18.876297))
        make_face()
        with BuildLine():
            Line((-17.118525, -21.993882), (-14.221958, -21.045092))
            ThreePointArc((-14.221958, -21.045092), (-15.601003, -20.044169), (-16.909834, -18.953035))
            Line((-16.909834, -18.953035), (-17.118525, -21.993882))
        make_face()
        with BuildLine():
            ThreePointArc((-25.39692, 0.395572), (-25.313246, 2.097515), (-25.115648, 3.790019))
            Line((-25.115648, 3.790019), (-27.775487, 2.301542))
            Line((-27.775487, 2.301542), (-25.39692, 0.395572))
        make_face()
        with BuildLine():
            Line((23.332398, -15.243817), (22.147653, -12.435493))
            ThreePointArc((22.147653, -12.435493), (21.264029, -13.892483), (20.284703, -15.286949))
            Line((20.284703, -15.286949), (23.332398, -15.243817))
        make_face()
        with BuildLine():
            Line((13.264977, -24.511531), (13.559639, -21.477807))
            ThreePointArc((13.559639, -21.477807), (12.089064, -22.338633), (10.564081, -23.098922))
            Line((10.564081, -23.098922), (13.264977, -24.511531))
        make_face()
        with BuildLine():
            Line((-13.264977, -24.511531), (-10.564081, -23.098922))
            ThreePointArc((-10.564081, -23.098922), (-12.089064, -22.338633), (-13.559639, -21.477807))
            Line((-13.559639, -21.477807), (-13.264977, -24.511531))
        make_face()
    extrude(amount=F1_DEPTH)


solid = f1.part
